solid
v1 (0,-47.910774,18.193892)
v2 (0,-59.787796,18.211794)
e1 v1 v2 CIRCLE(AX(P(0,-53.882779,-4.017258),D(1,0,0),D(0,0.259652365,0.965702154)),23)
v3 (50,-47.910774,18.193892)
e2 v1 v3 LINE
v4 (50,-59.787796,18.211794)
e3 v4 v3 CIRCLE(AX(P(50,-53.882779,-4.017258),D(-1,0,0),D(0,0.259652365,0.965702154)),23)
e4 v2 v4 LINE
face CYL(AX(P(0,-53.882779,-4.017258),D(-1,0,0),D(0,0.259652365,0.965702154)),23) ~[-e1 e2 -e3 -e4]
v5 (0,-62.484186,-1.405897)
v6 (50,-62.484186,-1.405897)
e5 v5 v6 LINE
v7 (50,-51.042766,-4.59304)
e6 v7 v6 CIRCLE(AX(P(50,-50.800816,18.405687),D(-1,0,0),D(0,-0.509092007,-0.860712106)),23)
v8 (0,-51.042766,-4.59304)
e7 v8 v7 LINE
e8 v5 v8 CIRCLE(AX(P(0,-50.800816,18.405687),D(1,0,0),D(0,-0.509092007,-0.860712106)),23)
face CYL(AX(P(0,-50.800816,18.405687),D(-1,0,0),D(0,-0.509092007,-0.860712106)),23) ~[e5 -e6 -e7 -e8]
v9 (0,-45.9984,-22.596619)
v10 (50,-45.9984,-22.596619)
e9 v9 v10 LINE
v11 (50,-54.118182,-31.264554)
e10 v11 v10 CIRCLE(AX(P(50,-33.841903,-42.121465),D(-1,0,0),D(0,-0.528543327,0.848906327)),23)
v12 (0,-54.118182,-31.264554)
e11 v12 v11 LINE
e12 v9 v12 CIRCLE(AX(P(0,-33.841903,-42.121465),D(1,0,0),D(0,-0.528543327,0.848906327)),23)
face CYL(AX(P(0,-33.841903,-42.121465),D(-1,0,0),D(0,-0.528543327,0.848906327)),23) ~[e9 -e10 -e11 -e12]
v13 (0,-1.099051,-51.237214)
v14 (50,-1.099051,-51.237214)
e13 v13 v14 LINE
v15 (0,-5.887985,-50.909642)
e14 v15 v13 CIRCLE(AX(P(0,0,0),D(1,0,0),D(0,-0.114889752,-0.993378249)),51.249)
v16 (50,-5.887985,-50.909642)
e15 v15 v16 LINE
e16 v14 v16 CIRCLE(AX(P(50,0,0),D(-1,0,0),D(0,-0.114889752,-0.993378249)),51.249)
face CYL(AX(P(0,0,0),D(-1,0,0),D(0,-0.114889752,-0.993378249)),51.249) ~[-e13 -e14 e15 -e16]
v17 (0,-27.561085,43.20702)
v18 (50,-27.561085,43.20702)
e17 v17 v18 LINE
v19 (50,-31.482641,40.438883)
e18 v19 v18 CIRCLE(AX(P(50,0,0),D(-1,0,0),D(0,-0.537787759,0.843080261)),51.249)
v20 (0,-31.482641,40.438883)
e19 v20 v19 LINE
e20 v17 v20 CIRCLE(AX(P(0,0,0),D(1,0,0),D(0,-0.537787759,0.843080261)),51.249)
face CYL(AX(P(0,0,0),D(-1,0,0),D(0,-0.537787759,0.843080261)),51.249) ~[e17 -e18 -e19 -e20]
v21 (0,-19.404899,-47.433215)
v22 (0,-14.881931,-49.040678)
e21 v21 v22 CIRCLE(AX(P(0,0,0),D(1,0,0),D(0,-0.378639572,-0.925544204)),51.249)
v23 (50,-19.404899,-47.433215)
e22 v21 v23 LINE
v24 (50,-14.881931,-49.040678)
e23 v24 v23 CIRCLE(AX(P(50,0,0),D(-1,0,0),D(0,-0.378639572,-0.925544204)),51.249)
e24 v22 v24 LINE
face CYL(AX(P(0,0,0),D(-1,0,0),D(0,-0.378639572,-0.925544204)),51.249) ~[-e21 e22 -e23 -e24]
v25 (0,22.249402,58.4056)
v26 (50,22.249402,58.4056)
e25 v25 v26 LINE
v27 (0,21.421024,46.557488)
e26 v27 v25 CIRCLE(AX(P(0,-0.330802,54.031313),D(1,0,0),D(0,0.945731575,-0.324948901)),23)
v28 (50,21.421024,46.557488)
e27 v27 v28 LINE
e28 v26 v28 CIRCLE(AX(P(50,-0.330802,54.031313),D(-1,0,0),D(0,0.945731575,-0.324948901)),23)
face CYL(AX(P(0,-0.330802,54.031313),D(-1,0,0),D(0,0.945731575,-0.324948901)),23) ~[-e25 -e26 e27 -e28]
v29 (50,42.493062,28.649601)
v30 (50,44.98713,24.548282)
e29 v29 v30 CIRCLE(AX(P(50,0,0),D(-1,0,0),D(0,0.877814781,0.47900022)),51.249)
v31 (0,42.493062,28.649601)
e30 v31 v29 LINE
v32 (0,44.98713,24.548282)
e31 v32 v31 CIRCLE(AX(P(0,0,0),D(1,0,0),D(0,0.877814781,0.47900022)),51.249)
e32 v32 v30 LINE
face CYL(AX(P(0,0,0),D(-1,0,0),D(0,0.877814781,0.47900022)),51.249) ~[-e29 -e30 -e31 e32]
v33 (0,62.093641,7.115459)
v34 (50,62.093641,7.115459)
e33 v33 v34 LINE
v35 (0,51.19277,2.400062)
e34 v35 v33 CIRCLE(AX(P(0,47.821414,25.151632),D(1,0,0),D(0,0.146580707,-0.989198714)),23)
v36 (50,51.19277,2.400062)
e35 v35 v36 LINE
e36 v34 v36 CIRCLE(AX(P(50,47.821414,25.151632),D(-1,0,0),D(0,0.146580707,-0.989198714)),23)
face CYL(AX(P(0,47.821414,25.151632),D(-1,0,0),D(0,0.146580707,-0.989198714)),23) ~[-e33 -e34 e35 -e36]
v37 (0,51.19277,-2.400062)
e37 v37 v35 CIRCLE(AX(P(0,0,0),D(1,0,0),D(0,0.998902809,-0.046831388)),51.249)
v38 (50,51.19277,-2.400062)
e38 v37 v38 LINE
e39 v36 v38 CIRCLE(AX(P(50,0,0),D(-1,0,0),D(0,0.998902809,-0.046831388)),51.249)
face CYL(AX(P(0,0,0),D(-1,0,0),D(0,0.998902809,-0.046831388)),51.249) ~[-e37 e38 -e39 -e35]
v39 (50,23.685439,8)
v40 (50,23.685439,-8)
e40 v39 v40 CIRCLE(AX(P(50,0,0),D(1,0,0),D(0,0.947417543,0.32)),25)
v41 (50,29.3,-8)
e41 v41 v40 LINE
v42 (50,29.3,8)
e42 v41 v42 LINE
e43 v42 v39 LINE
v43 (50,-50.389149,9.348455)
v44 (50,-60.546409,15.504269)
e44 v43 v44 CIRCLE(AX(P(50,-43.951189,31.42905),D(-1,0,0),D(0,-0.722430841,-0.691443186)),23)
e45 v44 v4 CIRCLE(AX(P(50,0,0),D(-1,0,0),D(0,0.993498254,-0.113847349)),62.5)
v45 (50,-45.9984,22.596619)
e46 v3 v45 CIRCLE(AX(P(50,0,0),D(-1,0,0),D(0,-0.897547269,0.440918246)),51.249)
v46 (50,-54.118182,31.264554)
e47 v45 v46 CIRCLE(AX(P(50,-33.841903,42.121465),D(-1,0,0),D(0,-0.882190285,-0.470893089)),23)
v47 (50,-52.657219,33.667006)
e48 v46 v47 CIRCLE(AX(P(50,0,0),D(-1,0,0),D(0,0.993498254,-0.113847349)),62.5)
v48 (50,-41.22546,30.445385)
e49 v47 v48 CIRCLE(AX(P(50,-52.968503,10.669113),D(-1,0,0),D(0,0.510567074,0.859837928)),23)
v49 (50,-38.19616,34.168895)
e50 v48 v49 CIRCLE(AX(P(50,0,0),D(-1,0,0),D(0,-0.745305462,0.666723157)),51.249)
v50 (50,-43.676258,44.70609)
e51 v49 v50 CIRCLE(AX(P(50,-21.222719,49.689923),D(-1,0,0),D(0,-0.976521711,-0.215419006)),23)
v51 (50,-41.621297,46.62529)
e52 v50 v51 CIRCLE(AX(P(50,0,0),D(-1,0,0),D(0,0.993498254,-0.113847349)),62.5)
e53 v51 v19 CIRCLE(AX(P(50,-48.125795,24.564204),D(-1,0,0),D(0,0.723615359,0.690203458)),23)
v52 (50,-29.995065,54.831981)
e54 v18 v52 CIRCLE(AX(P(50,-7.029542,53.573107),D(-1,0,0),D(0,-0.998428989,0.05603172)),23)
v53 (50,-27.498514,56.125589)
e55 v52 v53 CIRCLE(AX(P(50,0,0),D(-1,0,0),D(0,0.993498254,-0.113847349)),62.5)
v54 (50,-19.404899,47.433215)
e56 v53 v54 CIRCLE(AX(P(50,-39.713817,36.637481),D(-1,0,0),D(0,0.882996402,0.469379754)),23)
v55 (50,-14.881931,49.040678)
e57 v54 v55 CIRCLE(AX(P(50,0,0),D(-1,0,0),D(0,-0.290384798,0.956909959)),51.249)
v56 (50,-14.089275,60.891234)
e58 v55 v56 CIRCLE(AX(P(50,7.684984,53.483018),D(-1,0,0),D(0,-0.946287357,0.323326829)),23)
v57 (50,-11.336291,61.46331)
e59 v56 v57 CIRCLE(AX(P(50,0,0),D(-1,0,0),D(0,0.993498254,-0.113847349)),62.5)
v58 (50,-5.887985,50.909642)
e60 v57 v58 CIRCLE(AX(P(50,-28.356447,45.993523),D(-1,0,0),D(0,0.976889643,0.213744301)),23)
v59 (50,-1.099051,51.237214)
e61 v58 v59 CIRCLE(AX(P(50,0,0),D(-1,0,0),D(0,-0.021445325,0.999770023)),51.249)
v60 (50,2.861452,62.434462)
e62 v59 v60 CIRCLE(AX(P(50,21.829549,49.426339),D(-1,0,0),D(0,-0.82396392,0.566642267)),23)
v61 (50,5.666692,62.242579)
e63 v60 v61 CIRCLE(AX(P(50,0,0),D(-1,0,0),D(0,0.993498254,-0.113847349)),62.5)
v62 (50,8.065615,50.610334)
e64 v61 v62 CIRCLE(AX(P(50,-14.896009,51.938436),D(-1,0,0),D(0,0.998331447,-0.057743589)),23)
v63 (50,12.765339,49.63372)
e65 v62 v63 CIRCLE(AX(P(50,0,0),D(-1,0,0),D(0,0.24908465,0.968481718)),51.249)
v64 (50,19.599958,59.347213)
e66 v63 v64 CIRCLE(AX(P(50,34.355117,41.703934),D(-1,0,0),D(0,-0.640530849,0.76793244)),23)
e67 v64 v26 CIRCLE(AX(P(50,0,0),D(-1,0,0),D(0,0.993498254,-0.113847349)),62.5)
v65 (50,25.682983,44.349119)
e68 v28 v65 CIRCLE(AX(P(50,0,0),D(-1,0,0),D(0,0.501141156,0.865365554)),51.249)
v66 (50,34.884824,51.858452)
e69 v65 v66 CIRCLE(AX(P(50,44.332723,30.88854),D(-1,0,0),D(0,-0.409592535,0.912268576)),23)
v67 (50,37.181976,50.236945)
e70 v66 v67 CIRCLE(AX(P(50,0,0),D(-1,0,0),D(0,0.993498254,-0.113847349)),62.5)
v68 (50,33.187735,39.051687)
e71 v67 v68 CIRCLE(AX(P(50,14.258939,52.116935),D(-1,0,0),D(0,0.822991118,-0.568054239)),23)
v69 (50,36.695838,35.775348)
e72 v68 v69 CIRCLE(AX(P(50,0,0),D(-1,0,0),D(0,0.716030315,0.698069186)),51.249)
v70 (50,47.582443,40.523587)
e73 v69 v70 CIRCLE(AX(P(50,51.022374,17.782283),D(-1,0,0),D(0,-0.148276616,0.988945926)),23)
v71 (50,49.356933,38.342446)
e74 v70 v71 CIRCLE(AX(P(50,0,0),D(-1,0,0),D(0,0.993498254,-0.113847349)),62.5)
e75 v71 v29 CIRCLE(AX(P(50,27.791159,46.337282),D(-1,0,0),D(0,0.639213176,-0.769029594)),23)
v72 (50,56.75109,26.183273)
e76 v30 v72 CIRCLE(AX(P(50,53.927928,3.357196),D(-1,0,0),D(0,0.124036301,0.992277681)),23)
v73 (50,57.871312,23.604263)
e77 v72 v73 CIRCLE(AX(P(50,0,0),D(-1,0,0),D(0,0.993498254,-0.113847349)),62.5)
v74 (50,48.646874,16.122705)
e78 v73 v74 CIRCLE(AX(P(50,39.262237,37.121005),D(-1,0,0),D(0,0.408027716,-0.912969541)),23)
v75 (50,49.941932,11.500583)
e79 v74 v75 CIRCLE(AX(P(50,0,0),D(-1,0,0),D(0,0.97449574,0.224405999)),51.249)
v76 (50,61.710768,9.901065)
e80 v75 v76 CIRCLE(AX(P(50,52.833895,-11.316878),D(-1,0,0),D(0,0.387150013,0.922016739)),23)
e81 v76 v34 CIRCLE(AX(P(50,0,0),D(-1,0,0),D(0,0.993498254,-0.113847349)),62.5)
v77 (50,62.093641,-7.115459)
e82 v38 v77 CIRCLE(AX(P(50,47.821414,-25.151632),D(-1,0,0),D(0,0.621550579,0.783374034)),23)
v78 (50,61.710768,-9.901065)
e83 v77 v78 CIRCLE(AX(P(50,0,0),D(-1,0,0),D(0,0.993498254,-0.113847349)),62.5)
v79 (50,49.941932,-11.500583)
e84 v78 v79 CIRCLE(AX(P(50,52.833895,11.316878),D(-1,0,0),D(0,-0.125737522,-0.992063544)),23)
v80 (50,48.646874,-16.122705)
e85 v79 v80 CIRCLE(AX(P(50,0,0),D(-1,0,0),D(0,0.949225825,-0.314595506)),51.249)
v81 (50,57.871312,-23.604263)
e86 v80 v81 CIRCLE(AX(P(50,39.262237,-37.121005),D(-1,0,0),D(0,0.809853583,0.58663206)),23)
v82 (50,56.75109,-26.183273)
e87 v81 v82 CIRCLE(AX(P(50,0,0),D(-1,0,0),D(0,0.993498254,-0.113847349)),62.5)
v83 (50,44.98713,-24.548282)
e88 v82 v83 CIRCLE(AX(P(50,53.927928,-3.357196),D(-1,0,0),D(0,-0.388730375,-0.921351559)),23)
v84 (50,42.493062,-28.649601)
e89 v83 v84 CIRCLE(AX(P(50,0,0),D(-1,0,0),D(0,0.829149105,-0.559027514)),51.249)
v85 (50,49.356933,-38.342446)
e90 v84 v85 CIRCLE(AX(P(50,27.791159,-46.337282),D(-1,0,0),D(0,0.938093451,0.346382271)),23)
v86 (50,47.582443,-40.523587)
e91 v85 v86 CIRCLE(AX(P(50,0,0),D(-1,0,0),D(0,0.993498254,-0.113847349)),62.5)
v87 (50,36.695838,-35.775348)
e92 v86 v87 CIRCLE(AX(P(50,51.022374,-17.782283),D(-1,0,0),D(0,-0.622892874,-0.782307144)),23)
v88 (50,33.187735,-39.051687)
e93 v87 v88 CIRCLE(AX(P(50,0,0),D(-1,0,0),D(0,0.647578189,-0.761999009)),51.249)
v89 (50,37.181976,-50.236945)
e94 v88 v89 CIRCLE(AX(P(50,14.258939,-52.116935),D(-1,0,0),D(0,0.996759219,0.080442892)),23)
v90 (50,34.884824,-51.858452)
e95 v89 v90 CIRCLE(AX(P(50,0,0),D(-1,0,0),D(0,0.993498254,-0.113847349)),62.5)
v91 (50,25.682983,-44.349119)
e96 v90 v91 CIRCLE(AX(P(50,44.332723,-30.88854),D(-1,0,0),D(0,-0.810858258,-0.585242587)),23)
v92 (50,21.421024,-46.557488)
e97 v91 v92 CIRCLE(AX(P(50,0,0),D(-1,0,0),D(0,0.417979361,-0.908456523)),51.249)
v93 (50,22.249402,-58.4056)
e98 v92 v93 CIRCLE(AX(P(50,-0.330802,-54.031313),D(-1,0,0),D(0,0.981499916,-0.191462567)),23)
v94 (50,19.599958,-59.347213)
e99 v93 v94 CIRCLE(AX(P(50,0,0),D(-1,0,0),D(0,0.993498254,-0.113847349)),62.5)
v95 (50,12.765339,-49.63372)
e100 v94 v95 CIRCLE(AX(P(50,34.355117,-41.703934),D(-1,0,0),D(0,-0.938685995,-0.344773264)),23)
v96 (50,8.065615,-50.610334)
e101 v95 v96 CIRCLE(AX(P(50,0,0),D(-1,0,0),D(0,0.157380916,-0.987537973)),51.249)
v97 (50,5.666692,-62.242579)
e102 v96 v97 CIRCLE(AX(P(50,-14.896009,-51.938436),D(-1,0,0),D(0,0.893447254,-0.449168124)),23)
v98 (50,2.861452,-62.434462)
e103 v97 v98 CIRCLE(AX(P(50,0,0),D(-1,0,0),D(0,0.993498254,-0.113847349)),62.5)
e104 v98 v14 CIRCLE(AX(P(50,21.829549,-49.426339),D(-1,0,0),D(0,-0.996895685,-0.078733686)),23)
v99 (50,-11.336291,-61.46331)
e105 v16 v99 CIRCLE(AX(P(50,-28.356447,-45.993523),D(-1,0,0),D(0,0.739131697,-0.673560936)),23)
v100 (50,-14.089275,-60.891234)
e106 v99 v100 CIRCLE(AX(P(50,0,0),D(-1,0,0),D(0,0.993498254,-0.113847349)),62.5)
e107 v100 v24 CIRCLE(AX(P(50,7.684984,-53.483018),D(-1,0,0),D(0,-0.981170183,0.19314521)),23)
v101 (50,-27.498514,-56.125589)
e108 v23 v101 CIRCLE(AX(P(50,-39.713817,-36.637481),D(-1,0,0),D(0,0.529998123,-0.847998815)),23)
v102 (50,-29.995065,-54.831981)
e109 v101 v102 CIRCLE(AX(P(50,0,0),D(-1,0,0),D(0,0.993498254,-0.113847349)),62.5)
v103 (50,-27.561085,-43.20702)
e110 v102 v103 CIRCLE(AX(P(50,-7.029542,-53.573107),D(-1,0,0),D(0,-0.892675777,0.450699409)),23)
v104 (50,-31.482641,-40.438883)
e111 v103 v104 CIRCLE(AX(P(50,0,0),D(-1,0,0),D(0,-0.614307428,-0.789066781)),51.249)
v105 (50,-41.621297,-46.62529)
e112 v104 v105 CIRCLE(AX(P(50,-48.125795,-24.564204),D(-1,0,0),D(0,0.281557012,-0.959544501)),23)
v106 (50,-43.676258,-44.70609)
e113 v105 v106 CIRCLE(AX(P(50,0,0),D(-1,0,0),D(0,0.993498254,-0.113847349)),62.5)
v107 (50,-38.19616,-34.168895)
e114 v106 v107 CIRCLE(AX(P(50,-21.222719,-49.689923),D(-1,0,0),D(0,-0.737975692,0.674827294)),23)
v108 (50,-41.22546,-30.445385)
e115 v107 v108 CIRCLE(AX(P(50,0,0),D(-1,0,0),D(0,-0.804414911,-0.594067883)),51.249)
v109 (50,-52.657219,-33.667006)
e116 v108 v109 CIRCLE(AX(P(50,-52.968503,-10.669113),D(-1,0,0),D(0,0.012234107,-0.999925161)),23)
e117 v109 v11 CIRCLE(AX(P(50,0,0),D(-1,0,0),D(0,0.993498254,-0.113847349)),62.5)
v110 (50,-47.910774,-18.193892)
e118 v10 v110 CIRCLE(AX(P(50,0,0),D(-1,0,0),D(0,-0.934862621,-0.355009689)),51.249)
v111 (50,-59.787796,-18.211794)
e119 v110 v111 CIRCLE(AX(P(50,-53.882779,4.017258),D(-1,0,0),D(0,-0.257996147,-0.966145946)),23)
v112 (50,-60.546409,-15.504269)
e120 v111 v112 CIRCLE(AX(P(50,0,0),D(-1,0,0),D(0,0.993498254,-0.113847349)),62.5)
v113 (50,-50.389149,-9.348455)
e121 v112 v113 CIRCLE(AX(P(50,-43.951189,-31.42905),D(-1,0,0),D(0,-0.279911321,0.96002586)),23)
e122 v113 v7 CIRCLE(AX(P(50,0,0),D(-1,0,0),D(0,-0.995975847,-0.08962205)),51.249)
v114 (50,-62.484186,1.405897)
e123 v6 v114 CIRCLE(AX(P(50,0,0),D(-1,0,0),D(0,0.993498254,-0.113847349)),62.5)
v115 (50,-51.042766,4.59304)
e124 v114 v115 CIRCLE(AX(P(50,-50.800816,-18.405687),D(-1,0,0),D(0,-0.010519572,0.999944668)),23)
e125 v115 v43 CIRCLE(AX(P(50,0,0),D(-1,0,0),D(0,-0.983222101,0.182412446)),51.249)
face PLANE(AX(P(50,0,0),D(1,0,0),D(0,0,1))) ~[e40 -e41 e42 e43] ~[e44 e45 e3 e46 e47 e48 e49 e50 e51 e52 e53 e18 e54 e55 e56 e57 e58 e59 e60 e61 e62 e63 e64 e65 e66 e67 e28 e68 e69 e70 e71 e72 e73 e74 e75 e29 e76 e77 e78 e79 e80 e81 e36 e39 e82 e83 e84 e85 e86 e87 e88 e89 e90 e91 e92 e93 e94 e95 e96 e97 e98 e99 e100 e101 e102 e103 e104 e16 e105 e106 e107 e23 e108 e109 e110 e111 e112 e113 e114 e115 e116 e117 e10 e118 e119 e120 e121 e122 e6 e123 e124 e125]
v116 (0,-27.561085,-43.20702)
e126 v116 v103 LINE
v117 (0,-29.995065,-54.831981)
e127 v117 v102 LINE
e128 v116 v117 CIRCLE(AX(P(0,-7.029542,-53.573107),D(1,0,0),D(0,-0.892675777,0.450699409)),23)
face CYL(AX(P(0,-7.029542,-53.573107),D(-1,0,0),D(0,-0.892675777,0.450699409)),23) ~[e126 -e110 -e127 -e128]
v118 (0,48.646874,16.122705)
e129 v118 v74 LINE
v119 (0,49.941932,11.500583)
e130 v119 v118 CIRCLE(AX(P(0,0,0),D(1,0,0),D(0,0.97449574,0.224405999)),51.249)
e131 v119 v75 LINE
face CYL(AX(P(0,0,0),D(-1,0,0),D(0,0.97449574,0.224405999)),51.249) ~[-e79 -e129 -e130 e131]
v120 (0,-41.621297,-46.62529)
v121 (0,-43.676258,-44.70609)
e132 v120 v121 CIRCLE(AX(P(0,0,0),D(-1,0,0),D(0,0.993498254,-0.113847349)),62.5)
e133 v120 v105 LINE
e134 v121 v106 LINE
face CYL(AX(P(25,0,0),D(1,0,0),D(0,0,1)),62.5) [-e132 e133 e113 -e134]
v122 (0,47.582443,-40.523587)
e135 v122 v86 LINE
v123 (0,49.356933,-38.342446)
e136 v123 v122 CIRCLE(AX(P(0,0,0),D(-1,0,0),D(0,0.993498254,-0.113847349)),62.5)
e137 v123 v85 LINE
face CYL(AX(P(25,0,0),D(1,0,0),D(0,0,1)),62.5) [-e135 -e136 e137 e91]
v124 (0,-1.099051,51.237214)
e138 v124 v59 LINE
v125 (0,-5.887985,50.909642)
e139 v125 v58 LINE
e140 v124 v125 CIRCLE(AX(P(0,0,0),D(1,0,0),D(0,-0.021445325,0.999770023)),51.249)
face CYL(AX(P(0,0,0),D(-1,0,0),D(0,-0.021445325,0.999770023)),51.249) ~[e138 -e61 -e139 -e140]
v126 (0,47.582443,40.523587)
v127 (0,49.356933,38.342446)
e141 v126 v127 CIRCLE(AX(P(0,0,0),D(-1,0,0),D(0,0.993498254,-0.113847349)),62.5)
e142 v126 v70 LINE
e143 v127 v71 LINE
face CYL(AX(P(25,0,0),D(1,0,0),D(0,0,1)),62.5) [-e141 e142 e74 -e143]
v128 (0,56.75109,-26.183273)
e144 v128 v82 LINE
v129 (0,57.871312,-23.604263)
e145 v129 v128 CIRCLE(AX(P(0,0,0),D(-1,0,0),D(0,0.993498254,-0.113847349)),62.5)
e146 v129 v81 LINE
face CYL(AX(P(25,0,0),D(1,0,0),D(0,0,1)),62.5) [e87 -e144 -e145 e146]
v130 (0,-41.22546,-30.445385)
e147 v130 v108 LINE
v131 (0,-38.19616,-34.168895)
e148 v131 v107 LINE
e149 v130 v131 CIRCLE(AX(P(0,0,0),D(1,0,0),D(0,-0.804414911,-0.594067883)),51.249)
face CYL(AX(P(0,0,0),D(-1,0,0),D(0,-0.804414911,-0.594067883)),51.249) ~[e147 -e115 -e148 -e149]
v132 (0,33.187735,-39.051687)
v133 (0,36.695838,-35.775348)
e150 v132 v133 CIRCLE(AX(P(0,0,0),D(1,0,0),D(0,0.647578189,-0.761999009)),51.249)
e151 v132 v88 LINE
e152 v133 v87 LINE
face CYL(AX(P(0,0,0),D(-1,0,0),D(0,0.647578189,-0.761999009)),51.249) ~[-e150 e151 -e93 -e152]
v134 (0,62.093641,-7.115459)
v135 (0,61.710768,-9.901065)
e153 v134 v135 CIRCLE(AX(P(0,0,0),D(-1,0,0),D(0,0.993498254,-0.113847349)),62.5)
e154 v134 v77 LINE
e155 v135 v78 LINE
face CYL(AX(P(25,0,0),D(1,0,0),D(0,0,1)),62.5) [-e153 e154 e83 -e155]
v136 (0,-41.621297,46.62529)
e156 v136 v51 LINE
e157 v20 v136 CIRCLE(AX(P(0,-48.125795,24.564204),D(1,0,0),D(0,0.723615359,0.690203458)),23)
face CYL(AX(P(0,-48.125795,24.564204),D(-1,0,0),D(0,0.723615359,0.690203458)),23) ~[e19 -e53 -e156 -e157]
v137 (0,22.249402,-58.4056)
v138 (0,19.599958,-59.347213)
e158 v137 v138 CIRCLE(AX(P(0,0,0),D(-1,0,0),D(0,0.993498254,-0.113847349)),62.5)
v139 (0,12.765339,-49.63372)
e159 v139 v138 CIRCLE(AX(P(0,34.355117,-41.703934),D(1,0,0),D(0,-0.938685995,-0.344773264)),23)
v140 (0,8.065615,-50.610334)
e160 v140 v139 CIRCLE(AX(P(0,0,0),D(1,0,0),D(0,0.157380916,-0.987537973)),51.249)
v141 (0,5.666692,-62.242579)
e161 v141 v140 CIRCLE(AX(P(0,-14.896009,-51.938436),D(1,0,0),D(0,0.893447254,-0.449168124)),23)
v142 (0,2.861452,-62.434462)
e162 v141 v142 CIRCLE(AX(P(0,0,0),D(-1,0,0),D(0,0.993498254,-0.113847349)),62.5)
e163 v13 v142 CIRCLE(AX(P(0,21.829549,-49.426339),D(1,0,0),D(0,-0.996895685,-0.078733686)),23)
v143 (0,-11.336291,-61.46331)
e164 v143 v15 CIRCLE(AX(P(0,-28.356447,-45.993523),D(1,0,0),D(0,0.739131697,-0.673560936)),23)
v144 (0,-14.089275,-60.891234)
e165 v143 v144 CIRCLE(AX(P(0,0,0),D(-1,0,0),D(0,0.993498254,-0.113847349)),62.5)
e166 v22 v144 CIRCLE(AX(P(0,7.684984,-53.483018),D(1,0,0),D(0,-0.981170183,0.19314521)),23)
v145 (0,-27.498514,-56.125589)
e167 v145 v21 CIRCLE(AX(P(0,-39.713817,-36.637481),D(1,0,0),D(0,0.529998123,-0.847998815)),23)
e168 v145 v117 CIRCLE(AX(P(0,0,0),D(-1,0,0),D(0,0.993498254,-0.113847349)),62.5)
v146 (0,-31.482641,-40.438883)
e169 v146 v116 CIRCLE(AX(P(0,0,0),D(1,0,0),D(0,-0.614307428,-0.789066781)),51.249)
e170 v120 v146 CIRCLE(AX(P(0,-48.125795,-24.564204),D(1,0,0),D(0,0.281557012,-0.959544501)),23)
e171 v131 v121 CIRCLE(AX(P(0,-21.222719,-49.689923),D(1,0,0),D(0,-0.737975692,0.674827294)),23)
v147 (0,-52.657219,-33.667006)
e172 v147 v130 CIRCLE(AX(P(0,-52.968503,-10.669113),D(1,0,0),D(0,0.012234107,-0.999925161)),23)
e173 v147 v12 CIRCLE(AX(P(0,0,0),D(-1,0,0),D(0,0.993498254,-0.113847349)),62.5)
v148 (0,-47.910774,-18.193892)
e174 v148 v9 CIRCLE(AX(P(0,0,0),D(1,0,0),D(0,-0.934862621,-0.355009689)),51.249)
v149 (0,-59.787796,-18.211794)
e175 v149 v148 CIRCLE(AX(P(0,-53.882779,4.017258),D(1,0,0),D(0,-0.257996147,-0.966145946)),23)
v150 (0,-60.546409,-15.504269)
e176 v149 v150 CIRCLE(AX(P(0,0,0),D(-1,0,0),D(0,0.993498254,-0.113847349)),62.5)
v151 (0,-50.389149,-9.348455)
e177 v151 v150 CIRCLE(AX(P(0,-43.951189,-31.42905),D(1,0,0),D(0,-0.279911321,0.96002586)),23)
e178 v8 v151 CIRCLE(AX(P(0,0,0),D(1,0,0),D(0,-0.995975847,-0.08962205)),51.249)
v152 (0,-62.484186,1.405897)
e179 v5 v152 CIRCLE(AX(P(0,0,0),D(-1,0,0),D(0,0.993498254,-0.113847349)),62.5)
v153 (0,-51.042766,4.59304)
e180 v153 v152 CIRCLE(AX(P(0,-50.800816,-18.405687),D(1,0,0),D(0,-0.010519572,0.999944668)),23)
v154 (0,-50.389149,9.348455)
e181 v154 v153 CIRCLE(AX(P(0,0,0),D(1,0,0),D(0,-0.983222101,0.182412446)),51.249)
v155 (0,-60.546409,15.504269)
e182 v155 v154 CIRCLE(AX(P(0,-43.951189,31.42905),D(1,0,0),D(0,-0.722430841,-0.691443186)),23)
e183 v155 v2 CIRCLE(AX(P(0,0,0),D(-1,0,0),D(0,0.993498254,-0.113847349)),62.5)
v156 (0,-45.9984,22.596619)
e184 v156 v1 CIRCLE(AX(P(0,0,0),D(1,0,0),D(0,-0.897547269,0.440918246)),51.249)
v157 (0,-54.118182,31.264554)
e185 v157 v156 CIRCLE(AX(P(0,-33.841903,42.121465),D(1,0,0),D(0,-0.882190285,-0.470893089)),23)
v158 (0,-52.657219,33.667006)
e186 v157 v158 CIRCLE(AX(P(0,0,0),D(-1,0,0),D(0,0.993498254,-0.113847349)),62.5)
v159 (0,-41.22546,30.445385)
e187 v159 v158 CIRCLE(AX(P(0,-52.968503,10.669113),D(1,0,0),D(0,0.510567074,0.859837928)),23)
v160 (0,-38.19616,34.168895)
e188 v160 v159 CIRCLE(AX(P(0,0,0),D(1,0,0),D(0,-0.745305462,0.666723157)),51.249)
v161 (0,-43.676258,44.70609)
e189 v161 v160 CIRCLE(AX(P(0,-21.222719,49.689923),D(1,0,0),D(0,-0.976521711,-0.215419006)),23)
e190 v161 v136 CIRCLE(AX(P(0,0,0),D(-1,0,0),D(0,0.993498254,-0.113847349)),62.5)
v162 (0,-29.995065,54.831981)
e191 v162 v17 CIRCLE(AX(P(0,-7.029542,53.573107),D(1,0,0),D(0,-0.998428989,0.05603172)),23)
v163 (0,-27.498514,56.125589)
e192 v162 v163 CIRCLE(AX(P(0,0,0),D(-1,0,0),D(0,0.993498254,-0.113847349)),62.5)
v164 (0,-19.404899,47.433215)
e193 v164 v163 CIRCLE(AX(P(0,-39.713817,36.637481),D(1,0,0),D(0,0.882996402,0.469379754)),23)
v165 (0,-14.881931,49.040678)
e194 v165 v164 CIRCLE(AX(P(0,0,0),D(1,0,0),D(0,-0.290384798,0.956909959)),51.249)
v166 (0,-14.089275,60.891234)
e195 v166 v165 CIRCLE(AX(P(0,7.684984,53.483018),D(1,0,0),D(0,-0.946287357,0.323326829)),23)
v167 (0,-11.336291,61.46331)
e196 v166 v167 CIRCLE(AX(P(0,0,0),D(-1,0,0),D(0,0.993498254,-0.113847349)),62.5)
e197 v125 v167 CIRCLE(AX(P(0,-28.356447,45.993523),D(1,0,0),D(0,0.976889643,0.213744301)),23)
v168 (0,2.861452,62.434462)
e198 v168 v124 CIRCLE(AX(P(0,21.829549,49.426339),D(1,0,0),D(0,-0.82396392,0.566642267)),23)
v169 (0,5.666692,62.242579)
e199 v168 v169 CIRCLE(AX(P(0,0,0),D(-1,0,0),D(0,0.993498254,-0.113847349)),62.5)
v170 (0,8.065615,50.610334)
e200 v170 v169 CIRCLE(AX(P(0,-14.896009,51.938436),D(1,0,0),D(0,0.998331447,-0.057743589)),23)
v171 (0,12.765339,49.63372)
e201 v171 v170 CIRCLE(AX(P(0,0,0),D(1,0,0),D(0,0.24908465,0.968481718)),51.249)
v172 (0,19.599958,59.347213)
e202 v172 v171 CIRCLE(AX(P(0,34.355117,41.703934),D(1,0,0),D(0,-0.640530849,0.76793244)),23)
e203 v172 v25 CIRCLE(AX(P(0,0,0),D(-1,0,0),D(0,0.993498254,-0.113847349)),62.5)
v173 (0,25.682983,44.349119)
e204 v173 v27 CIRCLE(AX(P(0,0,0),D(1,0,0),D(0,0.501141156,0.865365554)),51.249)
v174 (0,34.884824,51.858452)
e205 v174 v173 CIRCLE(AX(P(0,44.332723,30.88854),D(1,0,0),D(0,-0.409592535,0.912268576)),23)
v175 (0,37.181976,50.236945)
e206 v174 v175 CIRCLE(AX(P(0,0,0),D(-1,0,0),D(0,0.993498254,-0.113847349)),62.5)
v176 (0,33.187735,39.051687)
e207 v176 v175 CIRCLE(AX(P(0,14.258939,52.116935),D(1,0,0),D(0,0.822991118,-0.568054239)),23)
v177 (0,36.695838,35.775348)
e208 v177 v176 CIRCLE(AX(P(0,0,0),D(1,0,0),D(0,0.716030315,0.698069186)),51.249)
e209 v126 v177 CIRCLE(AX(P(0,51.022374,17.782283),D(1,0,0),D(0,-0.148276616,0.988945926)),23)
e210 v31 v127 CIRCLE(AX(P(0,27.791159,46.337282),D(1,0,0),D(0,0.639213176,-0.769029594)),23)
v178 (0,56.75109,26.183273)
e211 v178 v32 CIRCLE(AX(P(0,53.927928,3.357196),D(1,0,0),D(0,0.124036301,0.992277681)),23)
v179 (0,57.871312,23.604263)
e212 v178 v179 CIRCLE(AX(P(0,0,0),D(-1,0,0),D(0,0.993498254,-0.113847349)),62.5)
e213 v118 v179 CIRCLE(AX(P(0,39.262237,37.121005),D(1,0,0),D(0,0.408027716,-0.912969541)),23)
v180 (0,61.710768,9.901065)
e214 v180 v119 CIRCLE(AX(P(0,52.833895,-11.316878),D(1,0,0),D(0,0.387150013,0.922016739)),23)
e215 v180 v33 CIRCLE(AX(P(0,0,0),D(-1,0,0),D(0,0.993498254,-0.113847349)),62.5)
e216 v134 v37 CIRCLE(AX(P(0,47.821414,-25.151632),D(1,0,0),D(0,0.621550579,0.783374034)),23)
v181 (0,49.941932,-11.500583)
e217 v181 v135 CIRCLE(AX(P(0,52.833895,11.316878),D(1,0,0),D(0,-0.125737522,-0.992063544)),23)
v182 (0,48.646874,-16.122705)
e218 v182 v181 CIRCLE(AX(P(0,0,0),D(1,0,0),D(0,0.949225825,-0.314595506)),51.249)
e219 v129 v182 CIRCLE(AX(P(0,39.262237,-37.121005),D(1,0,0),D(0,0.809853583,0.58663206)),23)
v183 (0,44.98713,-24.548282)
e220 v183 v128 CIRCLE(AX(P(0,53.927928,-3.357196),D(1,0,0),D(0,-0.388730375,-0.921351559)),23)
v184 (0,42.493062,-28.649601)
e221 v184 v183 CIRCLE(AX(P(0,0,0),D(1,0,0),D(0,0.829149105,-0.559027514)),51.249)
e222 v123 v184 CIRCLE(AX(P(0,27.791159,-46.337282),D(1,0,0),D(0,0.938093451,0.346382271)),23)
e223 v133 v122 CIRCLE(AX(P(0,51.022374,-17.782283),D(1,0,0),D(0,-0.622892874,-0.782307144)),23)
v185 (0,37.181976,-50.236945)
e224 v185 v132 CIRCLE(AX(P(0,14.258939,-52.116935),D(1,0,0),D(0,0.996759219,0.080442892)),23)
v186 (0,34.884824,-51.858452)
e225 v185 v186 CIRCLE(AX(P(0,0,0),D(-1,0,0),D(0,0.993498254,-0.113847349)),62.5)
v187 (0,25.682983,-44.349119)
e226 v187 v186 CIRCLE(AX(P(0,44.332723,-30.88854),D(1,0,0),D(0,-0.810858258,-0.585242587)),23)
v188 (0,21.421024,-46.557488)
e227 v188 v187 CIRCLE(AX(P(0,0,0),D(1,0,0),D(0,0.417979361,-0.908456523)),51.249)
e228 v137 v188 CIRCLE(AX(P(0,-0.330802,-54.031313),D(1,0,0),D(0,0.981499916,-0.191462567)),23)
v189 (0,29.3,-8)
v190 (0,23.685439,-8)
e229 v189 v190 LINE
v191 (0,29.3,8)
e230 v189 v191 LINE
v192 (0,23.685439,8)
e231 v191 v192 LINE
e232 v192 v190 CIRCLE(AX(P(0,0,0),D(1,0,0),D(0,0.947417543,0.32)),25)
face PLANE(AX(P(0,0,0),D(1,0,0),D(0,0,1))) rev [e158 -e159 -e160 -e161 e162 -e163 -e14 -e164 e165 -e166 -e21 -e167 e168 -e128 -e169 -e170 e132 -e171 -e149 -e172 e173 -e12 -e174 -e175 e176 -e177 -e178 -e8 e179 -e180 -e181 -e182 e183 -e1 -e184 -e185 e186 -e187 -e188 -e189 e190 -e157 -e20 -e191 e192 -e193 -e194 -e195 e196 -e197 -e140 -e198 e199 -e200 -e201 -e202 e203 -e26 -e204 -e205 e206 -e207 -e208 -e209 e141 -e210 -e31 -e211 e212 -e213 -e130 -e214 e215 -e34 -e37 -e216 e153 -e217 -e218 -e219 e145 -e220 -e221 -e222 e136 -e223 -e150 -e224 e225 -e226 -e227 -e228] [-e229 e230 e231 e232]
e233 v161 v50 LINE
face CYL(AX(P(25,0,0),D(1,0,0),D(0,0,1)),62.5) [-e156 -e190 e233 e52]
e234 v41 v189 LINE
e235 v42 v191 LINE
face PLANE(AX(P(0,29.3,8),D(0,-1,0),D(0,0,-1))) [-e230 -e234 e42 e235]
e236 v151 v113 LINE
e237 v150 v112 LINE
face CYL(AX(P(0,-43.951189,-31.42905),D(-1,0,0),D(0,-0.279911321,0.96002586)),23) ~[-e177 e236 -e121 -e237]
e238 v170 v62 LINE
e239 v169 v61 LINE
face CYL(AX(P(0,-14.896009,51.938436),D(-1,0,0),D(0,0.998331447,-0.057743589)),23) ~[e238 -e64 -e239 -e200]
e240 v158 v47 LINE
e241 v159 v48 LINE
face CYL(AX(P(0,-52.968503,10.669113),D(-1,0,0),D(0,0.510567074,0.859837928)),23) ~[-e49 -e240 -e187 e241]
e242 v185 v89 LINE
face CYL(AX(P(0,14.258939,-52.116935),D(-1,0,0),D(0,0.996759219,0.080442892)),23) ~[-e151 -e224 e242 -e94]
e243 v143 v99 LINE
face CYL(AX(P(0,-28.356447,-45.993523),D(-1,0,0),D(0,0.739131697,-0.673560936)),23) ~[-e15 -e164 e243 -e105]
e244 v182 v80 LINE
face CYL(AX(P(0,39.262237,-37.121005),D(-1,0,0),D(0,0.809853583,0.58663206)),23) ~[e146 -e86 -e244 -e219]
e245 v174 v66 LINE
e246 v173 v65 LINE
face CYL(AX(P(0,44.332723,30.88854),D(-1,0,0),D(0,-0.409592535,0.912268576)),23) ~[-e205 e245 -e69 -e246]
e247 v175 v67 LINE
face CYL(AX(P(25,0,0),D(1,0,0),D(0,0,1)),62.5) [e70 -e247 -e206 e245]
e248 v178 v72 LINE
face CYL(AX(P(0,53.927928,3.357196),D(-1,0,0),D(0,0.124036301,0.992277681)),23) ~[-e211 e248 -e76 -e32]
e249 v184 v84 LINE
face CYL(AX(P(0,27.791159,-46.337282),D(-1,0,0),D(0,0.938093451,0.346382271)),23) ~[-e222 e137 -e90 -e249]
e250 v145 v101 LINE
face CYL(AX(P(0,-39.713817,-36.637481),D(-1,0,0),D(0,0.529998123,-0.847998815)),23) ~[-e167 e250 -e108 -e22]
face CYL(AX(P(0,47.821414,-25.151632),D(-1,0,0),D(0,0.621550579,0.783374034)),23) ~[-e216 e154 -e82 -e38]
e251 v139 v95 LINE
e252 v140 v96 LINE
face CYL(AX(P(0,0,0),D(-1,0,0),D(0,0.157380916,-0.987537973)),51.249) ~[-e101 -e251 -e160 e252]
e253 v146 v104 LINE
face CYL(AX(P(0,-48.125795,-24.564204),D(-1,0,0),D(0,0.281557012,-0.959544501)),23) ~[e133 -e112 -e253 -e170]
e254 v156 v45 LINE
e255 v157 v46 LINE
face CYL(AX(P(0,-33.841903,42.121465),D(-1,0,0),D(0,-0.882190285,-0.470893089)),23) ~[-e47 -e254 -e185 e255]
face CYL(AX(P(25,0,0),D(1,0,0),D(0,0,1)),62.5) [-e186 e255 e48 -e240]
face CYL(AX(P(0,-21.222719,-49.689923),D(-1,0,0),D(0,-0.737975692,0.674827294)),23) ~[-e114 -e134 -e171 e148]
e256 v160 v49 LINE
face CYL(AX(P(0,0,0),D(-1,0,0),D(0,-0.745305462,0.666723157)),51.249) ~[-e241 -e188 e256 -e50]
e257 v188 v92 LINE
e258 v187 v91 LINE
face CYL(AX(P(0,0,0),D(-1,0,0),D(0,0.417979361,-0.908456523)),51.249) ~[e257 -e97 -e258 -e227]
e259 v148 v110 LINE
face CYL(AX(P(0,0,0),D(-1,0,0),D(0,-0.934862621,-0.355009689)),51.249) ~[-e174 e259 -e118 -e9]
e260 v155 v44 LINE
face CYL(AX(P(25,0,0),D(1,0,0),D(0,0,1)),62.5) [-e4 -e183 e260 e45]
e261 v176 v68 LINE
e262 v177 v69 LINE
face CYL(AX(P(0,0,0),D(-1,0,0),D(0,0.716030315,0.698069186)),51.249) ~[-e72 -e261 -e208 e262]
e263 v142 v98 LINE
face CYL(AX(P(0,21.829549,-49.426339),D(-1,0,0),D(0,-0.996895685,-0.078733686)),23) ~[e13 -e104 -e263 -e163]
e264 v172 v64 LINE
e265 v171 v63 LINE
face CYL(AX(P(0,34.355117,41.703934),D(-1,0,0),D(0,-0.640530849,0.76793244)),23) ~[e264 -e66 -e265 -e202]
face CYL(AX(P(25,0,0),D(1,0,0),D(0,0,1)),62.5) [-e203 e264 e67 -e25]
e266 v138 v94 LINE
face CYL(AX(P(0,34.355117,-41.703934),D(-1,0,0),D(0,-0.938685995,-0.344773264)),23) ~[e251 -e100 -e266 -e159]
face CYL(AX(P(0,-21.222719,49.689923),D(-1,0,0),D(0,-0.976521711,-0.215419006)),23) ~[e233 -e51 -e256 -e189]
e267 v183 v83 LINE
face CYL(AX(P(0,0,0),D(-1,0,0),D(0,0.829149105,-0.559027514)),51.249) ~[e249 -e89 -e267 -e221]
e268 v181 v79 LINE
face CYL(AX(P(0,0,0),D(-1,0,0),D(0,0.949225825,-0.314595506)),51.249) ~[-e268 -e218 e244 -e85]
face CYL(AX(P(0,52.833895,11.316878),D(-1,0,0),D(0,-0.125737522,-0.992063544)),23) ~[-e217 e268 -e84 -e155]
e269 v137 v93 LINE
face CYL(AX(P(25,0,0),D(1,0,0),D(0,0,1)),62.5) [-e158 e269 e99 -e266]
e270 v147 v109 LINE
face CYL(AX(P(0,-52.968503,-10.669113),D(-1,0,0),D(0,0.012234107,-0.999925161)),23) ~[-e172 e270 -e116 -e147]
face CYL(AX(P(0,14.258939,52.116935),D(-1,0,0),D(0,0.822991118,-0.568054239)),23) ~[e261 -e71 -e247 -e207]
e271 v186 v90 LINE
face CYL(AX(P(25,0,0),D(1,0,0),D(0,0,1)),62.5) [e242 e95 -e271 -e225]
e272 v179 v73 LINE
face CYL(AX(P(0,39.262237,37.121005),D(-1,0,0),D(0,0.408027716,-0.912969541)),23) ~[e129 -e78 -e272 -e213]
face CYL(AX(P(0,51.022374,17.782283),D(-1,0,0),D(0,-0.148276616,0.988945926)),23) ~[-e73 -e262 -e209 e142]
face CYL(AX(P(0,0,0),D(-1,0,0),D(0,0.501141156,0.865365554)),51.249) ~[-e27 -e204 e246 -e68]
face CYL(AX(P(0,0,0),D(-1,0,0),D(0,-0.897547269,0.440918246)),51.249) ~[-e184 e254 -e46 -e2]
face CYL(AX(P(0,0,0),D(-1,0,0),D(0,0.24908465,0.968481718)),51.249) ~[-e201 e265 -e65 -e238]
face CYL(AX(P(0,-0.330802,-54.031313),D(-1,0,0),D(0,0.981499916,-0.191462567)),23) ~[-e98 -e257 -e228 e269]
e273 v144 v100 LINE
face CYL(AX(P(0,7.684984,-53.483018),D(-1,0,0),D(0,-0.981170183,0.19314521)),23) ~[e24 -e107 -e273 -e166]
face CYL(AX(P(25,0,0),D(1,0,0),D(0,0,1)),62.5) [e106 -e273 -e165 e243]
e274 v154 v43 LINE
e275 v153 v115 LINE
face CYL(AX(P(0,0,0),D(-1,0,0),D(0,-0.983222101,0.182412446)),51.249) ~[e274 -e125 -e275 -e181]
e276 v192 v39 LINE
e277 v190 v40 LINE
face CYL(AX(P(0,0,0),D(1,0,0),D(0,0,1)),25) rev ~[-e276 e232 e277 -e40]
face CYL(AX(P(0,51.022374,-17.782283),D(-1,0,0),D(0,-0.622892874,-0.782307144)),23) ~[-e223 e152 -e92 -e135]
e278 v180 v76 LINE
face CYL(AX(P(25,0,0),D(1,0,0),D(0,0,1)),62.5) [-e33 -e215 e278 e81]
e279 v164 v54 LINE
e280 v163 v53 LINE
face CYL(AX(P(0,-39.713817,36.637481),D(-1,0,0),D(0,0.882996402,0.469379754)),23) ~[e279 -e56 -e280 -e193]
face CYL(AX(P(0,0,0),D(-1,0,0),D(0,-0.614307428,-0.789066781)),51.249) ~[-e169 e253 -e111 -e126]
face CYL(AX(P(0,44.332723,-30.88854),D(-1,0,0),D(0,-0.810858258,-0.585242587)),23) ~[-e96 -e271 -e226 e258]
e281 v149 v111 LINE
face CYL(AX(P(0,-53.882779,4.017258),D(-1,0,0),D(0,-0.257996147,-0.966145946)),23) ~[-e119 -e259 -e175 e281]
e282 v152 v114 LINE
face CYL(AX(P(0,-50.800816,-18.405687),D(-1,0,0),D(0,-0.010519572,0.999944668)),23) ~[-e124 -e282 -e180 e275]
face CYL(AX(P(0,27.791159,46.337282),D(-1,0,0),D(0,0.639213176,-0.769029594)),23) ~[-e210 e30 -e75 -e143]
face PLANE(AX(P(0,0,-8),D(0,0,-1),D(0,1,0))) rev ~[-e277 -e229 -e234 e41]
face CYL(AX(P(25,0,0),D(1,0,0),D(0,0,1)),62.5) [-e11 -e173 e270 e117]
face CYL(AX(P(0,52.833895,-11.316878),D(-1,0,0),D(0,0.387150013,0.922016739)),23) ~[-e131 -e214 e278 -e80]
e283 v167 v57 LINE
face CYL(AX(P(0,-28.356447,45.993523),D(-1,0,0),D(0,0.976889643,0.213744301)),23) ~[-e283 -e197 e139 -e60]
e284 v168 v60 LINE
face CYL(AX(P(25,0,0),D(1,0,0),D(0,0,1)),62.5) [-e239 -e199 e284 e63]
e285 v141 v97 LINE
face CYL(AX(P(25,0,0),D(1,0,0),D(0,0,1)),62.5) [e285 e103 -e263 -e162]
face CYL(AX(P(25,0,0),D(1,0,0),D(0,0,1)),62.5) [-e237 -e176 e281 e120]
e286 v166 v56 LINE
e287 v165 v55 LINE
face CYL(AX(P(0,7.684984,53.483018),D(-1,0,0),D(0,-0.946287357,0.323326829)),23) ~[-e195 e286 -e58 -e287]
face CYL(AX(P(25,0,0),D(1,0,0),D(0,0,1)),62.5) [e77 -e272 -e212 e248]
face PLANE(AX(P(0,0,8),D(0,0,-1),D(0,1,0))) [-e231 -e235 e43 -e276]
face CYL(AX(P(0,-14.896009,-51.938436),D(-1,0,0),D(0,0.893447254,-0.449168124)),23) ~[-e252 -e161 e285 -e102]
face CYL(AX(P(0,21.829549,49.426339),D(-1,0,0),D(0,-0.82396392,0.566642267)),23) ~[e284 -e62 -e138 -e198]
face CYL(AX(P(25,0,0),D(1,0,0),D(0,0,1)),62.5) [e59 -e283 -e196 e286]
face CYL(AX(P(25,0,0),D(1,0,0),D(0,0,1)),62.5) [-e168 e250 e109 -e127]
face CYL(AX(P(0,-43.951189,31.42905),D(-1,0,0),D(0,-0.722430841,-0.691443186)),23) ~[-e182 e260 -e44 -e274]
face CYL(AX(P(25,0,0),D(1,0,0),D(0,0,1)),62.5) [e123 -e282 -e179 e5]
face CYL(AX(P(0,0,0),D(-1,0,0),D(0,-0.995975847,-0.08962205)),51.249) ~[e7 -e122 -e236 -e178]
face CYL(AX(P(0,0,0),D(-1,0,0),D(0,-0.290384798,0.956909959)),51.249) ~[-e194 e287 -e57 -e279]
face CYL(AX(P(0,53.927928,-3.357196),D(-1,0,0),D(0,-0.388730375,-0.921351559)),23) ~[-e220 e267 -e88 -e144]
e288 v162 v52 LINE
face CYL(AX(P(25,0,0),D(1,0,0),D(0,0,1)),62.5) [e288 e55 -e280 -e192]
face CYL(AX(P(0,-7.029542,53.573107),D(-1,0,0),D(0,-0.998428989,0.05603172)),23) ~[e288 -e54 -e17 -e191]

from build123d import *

# Parameters (mm, degrees)
BASPROSKE_W     = 50
BASPROSKE_H     = 62.5
TOOTHCUT_DEPTH  = 102.550480058
TEETHCUTS_COUNT = 23
TEETHCUTS_ANGLE = 344.347826087
BORSKE_R        = 25
BORE_DEPTH      = 50.0000508
KEYSKE_W        = 16
KEYSKE_H        = 29.3
KEYWAY_DEPTH    = 50.0000508


with BuildPart() as part:
    # BasProSke → Base-Revolve (revolve)
    with BuildSketch(Plane(origin=(0, 0, 0), x_dir=(1, 0, 0), z_dir=(0, 1, 0)), mode=Mode.PRIVATE) as base_revolve_sk:
        with Locations((25, 31.25)):
            Rectangle(BASPROSKE_W, BASPROSKE_H)
    revolve(base_revolve_sk.sketch.rotate(Axis((-10, 0, 0), (1, 0, 0)), 180), axis=Axis((-10, 0, 0), (1, 0, 0)))

    # TooCutSke → ToothCut (cut, through all)
    with BuildSketch(Plane(origin=(0, 0, 0), x_dir=(0, 0, -1), z_dir=(1, 0, 0))):
        with BuildLine():
            ThreePointArc((2.400061822, 51.192770039), (0, 51.249), (-2.400061822, 51.192770039))
            ThreePointArc((-2.400061822, 51.192770039), (-4.047924228, 56.96654952), (-7.134029469, 62.11707711))
            ThreePointArc((-7.134029469, 62.11707711), (0, 62.5254), (7.134029469, 62.11707711))
            ThreePointArc((7.134029469, 62.11707711), (4.047924228, 56.96654952), (2.400061822, 51.192770039))
        make_face()
    toothcut = extrude(amount=TOOTHCUT_DEPTH, mode=Mode.SUBTRACT)

    # TeethCuts: ToothCut ×23 about axis
    teethcuts_axis = Axis((-10, 0, 0), (1, 0, 0))
    for i in range(1, TEETHCUTS_COUNT):
        add(toothcut.rotate(teethcuts_axis, i * TEETHCUTS_ANGLE / (TEETHCUTS_COUNT - 1)), mode=Mode.SUBTRACT)

    # BorSke → Bore (cut, symmetric)
    with BuildSketch(Plane(origin=(0, 0, 0), x_dir=(0, 0, -1), z_dir=(1, 0, 0))):
        with Locations(Location((0, 0, 0), (0, 0, 180))):
            Circle(BORSKE_R)
    extrude(amount=BORE_DEPTH, both=True, mode=Mode.SUBTRACT)

    # KeySke → Keyway (cut, symmetric)
    with BuildSketch(Plane(origin=(0, 0, 0), x_dir=(0, 0, -1), z_dir=(1, 0, 0))):
        with Locations((0, 14.65)):
            Rectangle(KEYSKE_W, KEYSKE_H)
    extrude(amount=KEYWAY_DEPTH, both=True, mode=Mode.SUBTRACT)


solid = part.part
